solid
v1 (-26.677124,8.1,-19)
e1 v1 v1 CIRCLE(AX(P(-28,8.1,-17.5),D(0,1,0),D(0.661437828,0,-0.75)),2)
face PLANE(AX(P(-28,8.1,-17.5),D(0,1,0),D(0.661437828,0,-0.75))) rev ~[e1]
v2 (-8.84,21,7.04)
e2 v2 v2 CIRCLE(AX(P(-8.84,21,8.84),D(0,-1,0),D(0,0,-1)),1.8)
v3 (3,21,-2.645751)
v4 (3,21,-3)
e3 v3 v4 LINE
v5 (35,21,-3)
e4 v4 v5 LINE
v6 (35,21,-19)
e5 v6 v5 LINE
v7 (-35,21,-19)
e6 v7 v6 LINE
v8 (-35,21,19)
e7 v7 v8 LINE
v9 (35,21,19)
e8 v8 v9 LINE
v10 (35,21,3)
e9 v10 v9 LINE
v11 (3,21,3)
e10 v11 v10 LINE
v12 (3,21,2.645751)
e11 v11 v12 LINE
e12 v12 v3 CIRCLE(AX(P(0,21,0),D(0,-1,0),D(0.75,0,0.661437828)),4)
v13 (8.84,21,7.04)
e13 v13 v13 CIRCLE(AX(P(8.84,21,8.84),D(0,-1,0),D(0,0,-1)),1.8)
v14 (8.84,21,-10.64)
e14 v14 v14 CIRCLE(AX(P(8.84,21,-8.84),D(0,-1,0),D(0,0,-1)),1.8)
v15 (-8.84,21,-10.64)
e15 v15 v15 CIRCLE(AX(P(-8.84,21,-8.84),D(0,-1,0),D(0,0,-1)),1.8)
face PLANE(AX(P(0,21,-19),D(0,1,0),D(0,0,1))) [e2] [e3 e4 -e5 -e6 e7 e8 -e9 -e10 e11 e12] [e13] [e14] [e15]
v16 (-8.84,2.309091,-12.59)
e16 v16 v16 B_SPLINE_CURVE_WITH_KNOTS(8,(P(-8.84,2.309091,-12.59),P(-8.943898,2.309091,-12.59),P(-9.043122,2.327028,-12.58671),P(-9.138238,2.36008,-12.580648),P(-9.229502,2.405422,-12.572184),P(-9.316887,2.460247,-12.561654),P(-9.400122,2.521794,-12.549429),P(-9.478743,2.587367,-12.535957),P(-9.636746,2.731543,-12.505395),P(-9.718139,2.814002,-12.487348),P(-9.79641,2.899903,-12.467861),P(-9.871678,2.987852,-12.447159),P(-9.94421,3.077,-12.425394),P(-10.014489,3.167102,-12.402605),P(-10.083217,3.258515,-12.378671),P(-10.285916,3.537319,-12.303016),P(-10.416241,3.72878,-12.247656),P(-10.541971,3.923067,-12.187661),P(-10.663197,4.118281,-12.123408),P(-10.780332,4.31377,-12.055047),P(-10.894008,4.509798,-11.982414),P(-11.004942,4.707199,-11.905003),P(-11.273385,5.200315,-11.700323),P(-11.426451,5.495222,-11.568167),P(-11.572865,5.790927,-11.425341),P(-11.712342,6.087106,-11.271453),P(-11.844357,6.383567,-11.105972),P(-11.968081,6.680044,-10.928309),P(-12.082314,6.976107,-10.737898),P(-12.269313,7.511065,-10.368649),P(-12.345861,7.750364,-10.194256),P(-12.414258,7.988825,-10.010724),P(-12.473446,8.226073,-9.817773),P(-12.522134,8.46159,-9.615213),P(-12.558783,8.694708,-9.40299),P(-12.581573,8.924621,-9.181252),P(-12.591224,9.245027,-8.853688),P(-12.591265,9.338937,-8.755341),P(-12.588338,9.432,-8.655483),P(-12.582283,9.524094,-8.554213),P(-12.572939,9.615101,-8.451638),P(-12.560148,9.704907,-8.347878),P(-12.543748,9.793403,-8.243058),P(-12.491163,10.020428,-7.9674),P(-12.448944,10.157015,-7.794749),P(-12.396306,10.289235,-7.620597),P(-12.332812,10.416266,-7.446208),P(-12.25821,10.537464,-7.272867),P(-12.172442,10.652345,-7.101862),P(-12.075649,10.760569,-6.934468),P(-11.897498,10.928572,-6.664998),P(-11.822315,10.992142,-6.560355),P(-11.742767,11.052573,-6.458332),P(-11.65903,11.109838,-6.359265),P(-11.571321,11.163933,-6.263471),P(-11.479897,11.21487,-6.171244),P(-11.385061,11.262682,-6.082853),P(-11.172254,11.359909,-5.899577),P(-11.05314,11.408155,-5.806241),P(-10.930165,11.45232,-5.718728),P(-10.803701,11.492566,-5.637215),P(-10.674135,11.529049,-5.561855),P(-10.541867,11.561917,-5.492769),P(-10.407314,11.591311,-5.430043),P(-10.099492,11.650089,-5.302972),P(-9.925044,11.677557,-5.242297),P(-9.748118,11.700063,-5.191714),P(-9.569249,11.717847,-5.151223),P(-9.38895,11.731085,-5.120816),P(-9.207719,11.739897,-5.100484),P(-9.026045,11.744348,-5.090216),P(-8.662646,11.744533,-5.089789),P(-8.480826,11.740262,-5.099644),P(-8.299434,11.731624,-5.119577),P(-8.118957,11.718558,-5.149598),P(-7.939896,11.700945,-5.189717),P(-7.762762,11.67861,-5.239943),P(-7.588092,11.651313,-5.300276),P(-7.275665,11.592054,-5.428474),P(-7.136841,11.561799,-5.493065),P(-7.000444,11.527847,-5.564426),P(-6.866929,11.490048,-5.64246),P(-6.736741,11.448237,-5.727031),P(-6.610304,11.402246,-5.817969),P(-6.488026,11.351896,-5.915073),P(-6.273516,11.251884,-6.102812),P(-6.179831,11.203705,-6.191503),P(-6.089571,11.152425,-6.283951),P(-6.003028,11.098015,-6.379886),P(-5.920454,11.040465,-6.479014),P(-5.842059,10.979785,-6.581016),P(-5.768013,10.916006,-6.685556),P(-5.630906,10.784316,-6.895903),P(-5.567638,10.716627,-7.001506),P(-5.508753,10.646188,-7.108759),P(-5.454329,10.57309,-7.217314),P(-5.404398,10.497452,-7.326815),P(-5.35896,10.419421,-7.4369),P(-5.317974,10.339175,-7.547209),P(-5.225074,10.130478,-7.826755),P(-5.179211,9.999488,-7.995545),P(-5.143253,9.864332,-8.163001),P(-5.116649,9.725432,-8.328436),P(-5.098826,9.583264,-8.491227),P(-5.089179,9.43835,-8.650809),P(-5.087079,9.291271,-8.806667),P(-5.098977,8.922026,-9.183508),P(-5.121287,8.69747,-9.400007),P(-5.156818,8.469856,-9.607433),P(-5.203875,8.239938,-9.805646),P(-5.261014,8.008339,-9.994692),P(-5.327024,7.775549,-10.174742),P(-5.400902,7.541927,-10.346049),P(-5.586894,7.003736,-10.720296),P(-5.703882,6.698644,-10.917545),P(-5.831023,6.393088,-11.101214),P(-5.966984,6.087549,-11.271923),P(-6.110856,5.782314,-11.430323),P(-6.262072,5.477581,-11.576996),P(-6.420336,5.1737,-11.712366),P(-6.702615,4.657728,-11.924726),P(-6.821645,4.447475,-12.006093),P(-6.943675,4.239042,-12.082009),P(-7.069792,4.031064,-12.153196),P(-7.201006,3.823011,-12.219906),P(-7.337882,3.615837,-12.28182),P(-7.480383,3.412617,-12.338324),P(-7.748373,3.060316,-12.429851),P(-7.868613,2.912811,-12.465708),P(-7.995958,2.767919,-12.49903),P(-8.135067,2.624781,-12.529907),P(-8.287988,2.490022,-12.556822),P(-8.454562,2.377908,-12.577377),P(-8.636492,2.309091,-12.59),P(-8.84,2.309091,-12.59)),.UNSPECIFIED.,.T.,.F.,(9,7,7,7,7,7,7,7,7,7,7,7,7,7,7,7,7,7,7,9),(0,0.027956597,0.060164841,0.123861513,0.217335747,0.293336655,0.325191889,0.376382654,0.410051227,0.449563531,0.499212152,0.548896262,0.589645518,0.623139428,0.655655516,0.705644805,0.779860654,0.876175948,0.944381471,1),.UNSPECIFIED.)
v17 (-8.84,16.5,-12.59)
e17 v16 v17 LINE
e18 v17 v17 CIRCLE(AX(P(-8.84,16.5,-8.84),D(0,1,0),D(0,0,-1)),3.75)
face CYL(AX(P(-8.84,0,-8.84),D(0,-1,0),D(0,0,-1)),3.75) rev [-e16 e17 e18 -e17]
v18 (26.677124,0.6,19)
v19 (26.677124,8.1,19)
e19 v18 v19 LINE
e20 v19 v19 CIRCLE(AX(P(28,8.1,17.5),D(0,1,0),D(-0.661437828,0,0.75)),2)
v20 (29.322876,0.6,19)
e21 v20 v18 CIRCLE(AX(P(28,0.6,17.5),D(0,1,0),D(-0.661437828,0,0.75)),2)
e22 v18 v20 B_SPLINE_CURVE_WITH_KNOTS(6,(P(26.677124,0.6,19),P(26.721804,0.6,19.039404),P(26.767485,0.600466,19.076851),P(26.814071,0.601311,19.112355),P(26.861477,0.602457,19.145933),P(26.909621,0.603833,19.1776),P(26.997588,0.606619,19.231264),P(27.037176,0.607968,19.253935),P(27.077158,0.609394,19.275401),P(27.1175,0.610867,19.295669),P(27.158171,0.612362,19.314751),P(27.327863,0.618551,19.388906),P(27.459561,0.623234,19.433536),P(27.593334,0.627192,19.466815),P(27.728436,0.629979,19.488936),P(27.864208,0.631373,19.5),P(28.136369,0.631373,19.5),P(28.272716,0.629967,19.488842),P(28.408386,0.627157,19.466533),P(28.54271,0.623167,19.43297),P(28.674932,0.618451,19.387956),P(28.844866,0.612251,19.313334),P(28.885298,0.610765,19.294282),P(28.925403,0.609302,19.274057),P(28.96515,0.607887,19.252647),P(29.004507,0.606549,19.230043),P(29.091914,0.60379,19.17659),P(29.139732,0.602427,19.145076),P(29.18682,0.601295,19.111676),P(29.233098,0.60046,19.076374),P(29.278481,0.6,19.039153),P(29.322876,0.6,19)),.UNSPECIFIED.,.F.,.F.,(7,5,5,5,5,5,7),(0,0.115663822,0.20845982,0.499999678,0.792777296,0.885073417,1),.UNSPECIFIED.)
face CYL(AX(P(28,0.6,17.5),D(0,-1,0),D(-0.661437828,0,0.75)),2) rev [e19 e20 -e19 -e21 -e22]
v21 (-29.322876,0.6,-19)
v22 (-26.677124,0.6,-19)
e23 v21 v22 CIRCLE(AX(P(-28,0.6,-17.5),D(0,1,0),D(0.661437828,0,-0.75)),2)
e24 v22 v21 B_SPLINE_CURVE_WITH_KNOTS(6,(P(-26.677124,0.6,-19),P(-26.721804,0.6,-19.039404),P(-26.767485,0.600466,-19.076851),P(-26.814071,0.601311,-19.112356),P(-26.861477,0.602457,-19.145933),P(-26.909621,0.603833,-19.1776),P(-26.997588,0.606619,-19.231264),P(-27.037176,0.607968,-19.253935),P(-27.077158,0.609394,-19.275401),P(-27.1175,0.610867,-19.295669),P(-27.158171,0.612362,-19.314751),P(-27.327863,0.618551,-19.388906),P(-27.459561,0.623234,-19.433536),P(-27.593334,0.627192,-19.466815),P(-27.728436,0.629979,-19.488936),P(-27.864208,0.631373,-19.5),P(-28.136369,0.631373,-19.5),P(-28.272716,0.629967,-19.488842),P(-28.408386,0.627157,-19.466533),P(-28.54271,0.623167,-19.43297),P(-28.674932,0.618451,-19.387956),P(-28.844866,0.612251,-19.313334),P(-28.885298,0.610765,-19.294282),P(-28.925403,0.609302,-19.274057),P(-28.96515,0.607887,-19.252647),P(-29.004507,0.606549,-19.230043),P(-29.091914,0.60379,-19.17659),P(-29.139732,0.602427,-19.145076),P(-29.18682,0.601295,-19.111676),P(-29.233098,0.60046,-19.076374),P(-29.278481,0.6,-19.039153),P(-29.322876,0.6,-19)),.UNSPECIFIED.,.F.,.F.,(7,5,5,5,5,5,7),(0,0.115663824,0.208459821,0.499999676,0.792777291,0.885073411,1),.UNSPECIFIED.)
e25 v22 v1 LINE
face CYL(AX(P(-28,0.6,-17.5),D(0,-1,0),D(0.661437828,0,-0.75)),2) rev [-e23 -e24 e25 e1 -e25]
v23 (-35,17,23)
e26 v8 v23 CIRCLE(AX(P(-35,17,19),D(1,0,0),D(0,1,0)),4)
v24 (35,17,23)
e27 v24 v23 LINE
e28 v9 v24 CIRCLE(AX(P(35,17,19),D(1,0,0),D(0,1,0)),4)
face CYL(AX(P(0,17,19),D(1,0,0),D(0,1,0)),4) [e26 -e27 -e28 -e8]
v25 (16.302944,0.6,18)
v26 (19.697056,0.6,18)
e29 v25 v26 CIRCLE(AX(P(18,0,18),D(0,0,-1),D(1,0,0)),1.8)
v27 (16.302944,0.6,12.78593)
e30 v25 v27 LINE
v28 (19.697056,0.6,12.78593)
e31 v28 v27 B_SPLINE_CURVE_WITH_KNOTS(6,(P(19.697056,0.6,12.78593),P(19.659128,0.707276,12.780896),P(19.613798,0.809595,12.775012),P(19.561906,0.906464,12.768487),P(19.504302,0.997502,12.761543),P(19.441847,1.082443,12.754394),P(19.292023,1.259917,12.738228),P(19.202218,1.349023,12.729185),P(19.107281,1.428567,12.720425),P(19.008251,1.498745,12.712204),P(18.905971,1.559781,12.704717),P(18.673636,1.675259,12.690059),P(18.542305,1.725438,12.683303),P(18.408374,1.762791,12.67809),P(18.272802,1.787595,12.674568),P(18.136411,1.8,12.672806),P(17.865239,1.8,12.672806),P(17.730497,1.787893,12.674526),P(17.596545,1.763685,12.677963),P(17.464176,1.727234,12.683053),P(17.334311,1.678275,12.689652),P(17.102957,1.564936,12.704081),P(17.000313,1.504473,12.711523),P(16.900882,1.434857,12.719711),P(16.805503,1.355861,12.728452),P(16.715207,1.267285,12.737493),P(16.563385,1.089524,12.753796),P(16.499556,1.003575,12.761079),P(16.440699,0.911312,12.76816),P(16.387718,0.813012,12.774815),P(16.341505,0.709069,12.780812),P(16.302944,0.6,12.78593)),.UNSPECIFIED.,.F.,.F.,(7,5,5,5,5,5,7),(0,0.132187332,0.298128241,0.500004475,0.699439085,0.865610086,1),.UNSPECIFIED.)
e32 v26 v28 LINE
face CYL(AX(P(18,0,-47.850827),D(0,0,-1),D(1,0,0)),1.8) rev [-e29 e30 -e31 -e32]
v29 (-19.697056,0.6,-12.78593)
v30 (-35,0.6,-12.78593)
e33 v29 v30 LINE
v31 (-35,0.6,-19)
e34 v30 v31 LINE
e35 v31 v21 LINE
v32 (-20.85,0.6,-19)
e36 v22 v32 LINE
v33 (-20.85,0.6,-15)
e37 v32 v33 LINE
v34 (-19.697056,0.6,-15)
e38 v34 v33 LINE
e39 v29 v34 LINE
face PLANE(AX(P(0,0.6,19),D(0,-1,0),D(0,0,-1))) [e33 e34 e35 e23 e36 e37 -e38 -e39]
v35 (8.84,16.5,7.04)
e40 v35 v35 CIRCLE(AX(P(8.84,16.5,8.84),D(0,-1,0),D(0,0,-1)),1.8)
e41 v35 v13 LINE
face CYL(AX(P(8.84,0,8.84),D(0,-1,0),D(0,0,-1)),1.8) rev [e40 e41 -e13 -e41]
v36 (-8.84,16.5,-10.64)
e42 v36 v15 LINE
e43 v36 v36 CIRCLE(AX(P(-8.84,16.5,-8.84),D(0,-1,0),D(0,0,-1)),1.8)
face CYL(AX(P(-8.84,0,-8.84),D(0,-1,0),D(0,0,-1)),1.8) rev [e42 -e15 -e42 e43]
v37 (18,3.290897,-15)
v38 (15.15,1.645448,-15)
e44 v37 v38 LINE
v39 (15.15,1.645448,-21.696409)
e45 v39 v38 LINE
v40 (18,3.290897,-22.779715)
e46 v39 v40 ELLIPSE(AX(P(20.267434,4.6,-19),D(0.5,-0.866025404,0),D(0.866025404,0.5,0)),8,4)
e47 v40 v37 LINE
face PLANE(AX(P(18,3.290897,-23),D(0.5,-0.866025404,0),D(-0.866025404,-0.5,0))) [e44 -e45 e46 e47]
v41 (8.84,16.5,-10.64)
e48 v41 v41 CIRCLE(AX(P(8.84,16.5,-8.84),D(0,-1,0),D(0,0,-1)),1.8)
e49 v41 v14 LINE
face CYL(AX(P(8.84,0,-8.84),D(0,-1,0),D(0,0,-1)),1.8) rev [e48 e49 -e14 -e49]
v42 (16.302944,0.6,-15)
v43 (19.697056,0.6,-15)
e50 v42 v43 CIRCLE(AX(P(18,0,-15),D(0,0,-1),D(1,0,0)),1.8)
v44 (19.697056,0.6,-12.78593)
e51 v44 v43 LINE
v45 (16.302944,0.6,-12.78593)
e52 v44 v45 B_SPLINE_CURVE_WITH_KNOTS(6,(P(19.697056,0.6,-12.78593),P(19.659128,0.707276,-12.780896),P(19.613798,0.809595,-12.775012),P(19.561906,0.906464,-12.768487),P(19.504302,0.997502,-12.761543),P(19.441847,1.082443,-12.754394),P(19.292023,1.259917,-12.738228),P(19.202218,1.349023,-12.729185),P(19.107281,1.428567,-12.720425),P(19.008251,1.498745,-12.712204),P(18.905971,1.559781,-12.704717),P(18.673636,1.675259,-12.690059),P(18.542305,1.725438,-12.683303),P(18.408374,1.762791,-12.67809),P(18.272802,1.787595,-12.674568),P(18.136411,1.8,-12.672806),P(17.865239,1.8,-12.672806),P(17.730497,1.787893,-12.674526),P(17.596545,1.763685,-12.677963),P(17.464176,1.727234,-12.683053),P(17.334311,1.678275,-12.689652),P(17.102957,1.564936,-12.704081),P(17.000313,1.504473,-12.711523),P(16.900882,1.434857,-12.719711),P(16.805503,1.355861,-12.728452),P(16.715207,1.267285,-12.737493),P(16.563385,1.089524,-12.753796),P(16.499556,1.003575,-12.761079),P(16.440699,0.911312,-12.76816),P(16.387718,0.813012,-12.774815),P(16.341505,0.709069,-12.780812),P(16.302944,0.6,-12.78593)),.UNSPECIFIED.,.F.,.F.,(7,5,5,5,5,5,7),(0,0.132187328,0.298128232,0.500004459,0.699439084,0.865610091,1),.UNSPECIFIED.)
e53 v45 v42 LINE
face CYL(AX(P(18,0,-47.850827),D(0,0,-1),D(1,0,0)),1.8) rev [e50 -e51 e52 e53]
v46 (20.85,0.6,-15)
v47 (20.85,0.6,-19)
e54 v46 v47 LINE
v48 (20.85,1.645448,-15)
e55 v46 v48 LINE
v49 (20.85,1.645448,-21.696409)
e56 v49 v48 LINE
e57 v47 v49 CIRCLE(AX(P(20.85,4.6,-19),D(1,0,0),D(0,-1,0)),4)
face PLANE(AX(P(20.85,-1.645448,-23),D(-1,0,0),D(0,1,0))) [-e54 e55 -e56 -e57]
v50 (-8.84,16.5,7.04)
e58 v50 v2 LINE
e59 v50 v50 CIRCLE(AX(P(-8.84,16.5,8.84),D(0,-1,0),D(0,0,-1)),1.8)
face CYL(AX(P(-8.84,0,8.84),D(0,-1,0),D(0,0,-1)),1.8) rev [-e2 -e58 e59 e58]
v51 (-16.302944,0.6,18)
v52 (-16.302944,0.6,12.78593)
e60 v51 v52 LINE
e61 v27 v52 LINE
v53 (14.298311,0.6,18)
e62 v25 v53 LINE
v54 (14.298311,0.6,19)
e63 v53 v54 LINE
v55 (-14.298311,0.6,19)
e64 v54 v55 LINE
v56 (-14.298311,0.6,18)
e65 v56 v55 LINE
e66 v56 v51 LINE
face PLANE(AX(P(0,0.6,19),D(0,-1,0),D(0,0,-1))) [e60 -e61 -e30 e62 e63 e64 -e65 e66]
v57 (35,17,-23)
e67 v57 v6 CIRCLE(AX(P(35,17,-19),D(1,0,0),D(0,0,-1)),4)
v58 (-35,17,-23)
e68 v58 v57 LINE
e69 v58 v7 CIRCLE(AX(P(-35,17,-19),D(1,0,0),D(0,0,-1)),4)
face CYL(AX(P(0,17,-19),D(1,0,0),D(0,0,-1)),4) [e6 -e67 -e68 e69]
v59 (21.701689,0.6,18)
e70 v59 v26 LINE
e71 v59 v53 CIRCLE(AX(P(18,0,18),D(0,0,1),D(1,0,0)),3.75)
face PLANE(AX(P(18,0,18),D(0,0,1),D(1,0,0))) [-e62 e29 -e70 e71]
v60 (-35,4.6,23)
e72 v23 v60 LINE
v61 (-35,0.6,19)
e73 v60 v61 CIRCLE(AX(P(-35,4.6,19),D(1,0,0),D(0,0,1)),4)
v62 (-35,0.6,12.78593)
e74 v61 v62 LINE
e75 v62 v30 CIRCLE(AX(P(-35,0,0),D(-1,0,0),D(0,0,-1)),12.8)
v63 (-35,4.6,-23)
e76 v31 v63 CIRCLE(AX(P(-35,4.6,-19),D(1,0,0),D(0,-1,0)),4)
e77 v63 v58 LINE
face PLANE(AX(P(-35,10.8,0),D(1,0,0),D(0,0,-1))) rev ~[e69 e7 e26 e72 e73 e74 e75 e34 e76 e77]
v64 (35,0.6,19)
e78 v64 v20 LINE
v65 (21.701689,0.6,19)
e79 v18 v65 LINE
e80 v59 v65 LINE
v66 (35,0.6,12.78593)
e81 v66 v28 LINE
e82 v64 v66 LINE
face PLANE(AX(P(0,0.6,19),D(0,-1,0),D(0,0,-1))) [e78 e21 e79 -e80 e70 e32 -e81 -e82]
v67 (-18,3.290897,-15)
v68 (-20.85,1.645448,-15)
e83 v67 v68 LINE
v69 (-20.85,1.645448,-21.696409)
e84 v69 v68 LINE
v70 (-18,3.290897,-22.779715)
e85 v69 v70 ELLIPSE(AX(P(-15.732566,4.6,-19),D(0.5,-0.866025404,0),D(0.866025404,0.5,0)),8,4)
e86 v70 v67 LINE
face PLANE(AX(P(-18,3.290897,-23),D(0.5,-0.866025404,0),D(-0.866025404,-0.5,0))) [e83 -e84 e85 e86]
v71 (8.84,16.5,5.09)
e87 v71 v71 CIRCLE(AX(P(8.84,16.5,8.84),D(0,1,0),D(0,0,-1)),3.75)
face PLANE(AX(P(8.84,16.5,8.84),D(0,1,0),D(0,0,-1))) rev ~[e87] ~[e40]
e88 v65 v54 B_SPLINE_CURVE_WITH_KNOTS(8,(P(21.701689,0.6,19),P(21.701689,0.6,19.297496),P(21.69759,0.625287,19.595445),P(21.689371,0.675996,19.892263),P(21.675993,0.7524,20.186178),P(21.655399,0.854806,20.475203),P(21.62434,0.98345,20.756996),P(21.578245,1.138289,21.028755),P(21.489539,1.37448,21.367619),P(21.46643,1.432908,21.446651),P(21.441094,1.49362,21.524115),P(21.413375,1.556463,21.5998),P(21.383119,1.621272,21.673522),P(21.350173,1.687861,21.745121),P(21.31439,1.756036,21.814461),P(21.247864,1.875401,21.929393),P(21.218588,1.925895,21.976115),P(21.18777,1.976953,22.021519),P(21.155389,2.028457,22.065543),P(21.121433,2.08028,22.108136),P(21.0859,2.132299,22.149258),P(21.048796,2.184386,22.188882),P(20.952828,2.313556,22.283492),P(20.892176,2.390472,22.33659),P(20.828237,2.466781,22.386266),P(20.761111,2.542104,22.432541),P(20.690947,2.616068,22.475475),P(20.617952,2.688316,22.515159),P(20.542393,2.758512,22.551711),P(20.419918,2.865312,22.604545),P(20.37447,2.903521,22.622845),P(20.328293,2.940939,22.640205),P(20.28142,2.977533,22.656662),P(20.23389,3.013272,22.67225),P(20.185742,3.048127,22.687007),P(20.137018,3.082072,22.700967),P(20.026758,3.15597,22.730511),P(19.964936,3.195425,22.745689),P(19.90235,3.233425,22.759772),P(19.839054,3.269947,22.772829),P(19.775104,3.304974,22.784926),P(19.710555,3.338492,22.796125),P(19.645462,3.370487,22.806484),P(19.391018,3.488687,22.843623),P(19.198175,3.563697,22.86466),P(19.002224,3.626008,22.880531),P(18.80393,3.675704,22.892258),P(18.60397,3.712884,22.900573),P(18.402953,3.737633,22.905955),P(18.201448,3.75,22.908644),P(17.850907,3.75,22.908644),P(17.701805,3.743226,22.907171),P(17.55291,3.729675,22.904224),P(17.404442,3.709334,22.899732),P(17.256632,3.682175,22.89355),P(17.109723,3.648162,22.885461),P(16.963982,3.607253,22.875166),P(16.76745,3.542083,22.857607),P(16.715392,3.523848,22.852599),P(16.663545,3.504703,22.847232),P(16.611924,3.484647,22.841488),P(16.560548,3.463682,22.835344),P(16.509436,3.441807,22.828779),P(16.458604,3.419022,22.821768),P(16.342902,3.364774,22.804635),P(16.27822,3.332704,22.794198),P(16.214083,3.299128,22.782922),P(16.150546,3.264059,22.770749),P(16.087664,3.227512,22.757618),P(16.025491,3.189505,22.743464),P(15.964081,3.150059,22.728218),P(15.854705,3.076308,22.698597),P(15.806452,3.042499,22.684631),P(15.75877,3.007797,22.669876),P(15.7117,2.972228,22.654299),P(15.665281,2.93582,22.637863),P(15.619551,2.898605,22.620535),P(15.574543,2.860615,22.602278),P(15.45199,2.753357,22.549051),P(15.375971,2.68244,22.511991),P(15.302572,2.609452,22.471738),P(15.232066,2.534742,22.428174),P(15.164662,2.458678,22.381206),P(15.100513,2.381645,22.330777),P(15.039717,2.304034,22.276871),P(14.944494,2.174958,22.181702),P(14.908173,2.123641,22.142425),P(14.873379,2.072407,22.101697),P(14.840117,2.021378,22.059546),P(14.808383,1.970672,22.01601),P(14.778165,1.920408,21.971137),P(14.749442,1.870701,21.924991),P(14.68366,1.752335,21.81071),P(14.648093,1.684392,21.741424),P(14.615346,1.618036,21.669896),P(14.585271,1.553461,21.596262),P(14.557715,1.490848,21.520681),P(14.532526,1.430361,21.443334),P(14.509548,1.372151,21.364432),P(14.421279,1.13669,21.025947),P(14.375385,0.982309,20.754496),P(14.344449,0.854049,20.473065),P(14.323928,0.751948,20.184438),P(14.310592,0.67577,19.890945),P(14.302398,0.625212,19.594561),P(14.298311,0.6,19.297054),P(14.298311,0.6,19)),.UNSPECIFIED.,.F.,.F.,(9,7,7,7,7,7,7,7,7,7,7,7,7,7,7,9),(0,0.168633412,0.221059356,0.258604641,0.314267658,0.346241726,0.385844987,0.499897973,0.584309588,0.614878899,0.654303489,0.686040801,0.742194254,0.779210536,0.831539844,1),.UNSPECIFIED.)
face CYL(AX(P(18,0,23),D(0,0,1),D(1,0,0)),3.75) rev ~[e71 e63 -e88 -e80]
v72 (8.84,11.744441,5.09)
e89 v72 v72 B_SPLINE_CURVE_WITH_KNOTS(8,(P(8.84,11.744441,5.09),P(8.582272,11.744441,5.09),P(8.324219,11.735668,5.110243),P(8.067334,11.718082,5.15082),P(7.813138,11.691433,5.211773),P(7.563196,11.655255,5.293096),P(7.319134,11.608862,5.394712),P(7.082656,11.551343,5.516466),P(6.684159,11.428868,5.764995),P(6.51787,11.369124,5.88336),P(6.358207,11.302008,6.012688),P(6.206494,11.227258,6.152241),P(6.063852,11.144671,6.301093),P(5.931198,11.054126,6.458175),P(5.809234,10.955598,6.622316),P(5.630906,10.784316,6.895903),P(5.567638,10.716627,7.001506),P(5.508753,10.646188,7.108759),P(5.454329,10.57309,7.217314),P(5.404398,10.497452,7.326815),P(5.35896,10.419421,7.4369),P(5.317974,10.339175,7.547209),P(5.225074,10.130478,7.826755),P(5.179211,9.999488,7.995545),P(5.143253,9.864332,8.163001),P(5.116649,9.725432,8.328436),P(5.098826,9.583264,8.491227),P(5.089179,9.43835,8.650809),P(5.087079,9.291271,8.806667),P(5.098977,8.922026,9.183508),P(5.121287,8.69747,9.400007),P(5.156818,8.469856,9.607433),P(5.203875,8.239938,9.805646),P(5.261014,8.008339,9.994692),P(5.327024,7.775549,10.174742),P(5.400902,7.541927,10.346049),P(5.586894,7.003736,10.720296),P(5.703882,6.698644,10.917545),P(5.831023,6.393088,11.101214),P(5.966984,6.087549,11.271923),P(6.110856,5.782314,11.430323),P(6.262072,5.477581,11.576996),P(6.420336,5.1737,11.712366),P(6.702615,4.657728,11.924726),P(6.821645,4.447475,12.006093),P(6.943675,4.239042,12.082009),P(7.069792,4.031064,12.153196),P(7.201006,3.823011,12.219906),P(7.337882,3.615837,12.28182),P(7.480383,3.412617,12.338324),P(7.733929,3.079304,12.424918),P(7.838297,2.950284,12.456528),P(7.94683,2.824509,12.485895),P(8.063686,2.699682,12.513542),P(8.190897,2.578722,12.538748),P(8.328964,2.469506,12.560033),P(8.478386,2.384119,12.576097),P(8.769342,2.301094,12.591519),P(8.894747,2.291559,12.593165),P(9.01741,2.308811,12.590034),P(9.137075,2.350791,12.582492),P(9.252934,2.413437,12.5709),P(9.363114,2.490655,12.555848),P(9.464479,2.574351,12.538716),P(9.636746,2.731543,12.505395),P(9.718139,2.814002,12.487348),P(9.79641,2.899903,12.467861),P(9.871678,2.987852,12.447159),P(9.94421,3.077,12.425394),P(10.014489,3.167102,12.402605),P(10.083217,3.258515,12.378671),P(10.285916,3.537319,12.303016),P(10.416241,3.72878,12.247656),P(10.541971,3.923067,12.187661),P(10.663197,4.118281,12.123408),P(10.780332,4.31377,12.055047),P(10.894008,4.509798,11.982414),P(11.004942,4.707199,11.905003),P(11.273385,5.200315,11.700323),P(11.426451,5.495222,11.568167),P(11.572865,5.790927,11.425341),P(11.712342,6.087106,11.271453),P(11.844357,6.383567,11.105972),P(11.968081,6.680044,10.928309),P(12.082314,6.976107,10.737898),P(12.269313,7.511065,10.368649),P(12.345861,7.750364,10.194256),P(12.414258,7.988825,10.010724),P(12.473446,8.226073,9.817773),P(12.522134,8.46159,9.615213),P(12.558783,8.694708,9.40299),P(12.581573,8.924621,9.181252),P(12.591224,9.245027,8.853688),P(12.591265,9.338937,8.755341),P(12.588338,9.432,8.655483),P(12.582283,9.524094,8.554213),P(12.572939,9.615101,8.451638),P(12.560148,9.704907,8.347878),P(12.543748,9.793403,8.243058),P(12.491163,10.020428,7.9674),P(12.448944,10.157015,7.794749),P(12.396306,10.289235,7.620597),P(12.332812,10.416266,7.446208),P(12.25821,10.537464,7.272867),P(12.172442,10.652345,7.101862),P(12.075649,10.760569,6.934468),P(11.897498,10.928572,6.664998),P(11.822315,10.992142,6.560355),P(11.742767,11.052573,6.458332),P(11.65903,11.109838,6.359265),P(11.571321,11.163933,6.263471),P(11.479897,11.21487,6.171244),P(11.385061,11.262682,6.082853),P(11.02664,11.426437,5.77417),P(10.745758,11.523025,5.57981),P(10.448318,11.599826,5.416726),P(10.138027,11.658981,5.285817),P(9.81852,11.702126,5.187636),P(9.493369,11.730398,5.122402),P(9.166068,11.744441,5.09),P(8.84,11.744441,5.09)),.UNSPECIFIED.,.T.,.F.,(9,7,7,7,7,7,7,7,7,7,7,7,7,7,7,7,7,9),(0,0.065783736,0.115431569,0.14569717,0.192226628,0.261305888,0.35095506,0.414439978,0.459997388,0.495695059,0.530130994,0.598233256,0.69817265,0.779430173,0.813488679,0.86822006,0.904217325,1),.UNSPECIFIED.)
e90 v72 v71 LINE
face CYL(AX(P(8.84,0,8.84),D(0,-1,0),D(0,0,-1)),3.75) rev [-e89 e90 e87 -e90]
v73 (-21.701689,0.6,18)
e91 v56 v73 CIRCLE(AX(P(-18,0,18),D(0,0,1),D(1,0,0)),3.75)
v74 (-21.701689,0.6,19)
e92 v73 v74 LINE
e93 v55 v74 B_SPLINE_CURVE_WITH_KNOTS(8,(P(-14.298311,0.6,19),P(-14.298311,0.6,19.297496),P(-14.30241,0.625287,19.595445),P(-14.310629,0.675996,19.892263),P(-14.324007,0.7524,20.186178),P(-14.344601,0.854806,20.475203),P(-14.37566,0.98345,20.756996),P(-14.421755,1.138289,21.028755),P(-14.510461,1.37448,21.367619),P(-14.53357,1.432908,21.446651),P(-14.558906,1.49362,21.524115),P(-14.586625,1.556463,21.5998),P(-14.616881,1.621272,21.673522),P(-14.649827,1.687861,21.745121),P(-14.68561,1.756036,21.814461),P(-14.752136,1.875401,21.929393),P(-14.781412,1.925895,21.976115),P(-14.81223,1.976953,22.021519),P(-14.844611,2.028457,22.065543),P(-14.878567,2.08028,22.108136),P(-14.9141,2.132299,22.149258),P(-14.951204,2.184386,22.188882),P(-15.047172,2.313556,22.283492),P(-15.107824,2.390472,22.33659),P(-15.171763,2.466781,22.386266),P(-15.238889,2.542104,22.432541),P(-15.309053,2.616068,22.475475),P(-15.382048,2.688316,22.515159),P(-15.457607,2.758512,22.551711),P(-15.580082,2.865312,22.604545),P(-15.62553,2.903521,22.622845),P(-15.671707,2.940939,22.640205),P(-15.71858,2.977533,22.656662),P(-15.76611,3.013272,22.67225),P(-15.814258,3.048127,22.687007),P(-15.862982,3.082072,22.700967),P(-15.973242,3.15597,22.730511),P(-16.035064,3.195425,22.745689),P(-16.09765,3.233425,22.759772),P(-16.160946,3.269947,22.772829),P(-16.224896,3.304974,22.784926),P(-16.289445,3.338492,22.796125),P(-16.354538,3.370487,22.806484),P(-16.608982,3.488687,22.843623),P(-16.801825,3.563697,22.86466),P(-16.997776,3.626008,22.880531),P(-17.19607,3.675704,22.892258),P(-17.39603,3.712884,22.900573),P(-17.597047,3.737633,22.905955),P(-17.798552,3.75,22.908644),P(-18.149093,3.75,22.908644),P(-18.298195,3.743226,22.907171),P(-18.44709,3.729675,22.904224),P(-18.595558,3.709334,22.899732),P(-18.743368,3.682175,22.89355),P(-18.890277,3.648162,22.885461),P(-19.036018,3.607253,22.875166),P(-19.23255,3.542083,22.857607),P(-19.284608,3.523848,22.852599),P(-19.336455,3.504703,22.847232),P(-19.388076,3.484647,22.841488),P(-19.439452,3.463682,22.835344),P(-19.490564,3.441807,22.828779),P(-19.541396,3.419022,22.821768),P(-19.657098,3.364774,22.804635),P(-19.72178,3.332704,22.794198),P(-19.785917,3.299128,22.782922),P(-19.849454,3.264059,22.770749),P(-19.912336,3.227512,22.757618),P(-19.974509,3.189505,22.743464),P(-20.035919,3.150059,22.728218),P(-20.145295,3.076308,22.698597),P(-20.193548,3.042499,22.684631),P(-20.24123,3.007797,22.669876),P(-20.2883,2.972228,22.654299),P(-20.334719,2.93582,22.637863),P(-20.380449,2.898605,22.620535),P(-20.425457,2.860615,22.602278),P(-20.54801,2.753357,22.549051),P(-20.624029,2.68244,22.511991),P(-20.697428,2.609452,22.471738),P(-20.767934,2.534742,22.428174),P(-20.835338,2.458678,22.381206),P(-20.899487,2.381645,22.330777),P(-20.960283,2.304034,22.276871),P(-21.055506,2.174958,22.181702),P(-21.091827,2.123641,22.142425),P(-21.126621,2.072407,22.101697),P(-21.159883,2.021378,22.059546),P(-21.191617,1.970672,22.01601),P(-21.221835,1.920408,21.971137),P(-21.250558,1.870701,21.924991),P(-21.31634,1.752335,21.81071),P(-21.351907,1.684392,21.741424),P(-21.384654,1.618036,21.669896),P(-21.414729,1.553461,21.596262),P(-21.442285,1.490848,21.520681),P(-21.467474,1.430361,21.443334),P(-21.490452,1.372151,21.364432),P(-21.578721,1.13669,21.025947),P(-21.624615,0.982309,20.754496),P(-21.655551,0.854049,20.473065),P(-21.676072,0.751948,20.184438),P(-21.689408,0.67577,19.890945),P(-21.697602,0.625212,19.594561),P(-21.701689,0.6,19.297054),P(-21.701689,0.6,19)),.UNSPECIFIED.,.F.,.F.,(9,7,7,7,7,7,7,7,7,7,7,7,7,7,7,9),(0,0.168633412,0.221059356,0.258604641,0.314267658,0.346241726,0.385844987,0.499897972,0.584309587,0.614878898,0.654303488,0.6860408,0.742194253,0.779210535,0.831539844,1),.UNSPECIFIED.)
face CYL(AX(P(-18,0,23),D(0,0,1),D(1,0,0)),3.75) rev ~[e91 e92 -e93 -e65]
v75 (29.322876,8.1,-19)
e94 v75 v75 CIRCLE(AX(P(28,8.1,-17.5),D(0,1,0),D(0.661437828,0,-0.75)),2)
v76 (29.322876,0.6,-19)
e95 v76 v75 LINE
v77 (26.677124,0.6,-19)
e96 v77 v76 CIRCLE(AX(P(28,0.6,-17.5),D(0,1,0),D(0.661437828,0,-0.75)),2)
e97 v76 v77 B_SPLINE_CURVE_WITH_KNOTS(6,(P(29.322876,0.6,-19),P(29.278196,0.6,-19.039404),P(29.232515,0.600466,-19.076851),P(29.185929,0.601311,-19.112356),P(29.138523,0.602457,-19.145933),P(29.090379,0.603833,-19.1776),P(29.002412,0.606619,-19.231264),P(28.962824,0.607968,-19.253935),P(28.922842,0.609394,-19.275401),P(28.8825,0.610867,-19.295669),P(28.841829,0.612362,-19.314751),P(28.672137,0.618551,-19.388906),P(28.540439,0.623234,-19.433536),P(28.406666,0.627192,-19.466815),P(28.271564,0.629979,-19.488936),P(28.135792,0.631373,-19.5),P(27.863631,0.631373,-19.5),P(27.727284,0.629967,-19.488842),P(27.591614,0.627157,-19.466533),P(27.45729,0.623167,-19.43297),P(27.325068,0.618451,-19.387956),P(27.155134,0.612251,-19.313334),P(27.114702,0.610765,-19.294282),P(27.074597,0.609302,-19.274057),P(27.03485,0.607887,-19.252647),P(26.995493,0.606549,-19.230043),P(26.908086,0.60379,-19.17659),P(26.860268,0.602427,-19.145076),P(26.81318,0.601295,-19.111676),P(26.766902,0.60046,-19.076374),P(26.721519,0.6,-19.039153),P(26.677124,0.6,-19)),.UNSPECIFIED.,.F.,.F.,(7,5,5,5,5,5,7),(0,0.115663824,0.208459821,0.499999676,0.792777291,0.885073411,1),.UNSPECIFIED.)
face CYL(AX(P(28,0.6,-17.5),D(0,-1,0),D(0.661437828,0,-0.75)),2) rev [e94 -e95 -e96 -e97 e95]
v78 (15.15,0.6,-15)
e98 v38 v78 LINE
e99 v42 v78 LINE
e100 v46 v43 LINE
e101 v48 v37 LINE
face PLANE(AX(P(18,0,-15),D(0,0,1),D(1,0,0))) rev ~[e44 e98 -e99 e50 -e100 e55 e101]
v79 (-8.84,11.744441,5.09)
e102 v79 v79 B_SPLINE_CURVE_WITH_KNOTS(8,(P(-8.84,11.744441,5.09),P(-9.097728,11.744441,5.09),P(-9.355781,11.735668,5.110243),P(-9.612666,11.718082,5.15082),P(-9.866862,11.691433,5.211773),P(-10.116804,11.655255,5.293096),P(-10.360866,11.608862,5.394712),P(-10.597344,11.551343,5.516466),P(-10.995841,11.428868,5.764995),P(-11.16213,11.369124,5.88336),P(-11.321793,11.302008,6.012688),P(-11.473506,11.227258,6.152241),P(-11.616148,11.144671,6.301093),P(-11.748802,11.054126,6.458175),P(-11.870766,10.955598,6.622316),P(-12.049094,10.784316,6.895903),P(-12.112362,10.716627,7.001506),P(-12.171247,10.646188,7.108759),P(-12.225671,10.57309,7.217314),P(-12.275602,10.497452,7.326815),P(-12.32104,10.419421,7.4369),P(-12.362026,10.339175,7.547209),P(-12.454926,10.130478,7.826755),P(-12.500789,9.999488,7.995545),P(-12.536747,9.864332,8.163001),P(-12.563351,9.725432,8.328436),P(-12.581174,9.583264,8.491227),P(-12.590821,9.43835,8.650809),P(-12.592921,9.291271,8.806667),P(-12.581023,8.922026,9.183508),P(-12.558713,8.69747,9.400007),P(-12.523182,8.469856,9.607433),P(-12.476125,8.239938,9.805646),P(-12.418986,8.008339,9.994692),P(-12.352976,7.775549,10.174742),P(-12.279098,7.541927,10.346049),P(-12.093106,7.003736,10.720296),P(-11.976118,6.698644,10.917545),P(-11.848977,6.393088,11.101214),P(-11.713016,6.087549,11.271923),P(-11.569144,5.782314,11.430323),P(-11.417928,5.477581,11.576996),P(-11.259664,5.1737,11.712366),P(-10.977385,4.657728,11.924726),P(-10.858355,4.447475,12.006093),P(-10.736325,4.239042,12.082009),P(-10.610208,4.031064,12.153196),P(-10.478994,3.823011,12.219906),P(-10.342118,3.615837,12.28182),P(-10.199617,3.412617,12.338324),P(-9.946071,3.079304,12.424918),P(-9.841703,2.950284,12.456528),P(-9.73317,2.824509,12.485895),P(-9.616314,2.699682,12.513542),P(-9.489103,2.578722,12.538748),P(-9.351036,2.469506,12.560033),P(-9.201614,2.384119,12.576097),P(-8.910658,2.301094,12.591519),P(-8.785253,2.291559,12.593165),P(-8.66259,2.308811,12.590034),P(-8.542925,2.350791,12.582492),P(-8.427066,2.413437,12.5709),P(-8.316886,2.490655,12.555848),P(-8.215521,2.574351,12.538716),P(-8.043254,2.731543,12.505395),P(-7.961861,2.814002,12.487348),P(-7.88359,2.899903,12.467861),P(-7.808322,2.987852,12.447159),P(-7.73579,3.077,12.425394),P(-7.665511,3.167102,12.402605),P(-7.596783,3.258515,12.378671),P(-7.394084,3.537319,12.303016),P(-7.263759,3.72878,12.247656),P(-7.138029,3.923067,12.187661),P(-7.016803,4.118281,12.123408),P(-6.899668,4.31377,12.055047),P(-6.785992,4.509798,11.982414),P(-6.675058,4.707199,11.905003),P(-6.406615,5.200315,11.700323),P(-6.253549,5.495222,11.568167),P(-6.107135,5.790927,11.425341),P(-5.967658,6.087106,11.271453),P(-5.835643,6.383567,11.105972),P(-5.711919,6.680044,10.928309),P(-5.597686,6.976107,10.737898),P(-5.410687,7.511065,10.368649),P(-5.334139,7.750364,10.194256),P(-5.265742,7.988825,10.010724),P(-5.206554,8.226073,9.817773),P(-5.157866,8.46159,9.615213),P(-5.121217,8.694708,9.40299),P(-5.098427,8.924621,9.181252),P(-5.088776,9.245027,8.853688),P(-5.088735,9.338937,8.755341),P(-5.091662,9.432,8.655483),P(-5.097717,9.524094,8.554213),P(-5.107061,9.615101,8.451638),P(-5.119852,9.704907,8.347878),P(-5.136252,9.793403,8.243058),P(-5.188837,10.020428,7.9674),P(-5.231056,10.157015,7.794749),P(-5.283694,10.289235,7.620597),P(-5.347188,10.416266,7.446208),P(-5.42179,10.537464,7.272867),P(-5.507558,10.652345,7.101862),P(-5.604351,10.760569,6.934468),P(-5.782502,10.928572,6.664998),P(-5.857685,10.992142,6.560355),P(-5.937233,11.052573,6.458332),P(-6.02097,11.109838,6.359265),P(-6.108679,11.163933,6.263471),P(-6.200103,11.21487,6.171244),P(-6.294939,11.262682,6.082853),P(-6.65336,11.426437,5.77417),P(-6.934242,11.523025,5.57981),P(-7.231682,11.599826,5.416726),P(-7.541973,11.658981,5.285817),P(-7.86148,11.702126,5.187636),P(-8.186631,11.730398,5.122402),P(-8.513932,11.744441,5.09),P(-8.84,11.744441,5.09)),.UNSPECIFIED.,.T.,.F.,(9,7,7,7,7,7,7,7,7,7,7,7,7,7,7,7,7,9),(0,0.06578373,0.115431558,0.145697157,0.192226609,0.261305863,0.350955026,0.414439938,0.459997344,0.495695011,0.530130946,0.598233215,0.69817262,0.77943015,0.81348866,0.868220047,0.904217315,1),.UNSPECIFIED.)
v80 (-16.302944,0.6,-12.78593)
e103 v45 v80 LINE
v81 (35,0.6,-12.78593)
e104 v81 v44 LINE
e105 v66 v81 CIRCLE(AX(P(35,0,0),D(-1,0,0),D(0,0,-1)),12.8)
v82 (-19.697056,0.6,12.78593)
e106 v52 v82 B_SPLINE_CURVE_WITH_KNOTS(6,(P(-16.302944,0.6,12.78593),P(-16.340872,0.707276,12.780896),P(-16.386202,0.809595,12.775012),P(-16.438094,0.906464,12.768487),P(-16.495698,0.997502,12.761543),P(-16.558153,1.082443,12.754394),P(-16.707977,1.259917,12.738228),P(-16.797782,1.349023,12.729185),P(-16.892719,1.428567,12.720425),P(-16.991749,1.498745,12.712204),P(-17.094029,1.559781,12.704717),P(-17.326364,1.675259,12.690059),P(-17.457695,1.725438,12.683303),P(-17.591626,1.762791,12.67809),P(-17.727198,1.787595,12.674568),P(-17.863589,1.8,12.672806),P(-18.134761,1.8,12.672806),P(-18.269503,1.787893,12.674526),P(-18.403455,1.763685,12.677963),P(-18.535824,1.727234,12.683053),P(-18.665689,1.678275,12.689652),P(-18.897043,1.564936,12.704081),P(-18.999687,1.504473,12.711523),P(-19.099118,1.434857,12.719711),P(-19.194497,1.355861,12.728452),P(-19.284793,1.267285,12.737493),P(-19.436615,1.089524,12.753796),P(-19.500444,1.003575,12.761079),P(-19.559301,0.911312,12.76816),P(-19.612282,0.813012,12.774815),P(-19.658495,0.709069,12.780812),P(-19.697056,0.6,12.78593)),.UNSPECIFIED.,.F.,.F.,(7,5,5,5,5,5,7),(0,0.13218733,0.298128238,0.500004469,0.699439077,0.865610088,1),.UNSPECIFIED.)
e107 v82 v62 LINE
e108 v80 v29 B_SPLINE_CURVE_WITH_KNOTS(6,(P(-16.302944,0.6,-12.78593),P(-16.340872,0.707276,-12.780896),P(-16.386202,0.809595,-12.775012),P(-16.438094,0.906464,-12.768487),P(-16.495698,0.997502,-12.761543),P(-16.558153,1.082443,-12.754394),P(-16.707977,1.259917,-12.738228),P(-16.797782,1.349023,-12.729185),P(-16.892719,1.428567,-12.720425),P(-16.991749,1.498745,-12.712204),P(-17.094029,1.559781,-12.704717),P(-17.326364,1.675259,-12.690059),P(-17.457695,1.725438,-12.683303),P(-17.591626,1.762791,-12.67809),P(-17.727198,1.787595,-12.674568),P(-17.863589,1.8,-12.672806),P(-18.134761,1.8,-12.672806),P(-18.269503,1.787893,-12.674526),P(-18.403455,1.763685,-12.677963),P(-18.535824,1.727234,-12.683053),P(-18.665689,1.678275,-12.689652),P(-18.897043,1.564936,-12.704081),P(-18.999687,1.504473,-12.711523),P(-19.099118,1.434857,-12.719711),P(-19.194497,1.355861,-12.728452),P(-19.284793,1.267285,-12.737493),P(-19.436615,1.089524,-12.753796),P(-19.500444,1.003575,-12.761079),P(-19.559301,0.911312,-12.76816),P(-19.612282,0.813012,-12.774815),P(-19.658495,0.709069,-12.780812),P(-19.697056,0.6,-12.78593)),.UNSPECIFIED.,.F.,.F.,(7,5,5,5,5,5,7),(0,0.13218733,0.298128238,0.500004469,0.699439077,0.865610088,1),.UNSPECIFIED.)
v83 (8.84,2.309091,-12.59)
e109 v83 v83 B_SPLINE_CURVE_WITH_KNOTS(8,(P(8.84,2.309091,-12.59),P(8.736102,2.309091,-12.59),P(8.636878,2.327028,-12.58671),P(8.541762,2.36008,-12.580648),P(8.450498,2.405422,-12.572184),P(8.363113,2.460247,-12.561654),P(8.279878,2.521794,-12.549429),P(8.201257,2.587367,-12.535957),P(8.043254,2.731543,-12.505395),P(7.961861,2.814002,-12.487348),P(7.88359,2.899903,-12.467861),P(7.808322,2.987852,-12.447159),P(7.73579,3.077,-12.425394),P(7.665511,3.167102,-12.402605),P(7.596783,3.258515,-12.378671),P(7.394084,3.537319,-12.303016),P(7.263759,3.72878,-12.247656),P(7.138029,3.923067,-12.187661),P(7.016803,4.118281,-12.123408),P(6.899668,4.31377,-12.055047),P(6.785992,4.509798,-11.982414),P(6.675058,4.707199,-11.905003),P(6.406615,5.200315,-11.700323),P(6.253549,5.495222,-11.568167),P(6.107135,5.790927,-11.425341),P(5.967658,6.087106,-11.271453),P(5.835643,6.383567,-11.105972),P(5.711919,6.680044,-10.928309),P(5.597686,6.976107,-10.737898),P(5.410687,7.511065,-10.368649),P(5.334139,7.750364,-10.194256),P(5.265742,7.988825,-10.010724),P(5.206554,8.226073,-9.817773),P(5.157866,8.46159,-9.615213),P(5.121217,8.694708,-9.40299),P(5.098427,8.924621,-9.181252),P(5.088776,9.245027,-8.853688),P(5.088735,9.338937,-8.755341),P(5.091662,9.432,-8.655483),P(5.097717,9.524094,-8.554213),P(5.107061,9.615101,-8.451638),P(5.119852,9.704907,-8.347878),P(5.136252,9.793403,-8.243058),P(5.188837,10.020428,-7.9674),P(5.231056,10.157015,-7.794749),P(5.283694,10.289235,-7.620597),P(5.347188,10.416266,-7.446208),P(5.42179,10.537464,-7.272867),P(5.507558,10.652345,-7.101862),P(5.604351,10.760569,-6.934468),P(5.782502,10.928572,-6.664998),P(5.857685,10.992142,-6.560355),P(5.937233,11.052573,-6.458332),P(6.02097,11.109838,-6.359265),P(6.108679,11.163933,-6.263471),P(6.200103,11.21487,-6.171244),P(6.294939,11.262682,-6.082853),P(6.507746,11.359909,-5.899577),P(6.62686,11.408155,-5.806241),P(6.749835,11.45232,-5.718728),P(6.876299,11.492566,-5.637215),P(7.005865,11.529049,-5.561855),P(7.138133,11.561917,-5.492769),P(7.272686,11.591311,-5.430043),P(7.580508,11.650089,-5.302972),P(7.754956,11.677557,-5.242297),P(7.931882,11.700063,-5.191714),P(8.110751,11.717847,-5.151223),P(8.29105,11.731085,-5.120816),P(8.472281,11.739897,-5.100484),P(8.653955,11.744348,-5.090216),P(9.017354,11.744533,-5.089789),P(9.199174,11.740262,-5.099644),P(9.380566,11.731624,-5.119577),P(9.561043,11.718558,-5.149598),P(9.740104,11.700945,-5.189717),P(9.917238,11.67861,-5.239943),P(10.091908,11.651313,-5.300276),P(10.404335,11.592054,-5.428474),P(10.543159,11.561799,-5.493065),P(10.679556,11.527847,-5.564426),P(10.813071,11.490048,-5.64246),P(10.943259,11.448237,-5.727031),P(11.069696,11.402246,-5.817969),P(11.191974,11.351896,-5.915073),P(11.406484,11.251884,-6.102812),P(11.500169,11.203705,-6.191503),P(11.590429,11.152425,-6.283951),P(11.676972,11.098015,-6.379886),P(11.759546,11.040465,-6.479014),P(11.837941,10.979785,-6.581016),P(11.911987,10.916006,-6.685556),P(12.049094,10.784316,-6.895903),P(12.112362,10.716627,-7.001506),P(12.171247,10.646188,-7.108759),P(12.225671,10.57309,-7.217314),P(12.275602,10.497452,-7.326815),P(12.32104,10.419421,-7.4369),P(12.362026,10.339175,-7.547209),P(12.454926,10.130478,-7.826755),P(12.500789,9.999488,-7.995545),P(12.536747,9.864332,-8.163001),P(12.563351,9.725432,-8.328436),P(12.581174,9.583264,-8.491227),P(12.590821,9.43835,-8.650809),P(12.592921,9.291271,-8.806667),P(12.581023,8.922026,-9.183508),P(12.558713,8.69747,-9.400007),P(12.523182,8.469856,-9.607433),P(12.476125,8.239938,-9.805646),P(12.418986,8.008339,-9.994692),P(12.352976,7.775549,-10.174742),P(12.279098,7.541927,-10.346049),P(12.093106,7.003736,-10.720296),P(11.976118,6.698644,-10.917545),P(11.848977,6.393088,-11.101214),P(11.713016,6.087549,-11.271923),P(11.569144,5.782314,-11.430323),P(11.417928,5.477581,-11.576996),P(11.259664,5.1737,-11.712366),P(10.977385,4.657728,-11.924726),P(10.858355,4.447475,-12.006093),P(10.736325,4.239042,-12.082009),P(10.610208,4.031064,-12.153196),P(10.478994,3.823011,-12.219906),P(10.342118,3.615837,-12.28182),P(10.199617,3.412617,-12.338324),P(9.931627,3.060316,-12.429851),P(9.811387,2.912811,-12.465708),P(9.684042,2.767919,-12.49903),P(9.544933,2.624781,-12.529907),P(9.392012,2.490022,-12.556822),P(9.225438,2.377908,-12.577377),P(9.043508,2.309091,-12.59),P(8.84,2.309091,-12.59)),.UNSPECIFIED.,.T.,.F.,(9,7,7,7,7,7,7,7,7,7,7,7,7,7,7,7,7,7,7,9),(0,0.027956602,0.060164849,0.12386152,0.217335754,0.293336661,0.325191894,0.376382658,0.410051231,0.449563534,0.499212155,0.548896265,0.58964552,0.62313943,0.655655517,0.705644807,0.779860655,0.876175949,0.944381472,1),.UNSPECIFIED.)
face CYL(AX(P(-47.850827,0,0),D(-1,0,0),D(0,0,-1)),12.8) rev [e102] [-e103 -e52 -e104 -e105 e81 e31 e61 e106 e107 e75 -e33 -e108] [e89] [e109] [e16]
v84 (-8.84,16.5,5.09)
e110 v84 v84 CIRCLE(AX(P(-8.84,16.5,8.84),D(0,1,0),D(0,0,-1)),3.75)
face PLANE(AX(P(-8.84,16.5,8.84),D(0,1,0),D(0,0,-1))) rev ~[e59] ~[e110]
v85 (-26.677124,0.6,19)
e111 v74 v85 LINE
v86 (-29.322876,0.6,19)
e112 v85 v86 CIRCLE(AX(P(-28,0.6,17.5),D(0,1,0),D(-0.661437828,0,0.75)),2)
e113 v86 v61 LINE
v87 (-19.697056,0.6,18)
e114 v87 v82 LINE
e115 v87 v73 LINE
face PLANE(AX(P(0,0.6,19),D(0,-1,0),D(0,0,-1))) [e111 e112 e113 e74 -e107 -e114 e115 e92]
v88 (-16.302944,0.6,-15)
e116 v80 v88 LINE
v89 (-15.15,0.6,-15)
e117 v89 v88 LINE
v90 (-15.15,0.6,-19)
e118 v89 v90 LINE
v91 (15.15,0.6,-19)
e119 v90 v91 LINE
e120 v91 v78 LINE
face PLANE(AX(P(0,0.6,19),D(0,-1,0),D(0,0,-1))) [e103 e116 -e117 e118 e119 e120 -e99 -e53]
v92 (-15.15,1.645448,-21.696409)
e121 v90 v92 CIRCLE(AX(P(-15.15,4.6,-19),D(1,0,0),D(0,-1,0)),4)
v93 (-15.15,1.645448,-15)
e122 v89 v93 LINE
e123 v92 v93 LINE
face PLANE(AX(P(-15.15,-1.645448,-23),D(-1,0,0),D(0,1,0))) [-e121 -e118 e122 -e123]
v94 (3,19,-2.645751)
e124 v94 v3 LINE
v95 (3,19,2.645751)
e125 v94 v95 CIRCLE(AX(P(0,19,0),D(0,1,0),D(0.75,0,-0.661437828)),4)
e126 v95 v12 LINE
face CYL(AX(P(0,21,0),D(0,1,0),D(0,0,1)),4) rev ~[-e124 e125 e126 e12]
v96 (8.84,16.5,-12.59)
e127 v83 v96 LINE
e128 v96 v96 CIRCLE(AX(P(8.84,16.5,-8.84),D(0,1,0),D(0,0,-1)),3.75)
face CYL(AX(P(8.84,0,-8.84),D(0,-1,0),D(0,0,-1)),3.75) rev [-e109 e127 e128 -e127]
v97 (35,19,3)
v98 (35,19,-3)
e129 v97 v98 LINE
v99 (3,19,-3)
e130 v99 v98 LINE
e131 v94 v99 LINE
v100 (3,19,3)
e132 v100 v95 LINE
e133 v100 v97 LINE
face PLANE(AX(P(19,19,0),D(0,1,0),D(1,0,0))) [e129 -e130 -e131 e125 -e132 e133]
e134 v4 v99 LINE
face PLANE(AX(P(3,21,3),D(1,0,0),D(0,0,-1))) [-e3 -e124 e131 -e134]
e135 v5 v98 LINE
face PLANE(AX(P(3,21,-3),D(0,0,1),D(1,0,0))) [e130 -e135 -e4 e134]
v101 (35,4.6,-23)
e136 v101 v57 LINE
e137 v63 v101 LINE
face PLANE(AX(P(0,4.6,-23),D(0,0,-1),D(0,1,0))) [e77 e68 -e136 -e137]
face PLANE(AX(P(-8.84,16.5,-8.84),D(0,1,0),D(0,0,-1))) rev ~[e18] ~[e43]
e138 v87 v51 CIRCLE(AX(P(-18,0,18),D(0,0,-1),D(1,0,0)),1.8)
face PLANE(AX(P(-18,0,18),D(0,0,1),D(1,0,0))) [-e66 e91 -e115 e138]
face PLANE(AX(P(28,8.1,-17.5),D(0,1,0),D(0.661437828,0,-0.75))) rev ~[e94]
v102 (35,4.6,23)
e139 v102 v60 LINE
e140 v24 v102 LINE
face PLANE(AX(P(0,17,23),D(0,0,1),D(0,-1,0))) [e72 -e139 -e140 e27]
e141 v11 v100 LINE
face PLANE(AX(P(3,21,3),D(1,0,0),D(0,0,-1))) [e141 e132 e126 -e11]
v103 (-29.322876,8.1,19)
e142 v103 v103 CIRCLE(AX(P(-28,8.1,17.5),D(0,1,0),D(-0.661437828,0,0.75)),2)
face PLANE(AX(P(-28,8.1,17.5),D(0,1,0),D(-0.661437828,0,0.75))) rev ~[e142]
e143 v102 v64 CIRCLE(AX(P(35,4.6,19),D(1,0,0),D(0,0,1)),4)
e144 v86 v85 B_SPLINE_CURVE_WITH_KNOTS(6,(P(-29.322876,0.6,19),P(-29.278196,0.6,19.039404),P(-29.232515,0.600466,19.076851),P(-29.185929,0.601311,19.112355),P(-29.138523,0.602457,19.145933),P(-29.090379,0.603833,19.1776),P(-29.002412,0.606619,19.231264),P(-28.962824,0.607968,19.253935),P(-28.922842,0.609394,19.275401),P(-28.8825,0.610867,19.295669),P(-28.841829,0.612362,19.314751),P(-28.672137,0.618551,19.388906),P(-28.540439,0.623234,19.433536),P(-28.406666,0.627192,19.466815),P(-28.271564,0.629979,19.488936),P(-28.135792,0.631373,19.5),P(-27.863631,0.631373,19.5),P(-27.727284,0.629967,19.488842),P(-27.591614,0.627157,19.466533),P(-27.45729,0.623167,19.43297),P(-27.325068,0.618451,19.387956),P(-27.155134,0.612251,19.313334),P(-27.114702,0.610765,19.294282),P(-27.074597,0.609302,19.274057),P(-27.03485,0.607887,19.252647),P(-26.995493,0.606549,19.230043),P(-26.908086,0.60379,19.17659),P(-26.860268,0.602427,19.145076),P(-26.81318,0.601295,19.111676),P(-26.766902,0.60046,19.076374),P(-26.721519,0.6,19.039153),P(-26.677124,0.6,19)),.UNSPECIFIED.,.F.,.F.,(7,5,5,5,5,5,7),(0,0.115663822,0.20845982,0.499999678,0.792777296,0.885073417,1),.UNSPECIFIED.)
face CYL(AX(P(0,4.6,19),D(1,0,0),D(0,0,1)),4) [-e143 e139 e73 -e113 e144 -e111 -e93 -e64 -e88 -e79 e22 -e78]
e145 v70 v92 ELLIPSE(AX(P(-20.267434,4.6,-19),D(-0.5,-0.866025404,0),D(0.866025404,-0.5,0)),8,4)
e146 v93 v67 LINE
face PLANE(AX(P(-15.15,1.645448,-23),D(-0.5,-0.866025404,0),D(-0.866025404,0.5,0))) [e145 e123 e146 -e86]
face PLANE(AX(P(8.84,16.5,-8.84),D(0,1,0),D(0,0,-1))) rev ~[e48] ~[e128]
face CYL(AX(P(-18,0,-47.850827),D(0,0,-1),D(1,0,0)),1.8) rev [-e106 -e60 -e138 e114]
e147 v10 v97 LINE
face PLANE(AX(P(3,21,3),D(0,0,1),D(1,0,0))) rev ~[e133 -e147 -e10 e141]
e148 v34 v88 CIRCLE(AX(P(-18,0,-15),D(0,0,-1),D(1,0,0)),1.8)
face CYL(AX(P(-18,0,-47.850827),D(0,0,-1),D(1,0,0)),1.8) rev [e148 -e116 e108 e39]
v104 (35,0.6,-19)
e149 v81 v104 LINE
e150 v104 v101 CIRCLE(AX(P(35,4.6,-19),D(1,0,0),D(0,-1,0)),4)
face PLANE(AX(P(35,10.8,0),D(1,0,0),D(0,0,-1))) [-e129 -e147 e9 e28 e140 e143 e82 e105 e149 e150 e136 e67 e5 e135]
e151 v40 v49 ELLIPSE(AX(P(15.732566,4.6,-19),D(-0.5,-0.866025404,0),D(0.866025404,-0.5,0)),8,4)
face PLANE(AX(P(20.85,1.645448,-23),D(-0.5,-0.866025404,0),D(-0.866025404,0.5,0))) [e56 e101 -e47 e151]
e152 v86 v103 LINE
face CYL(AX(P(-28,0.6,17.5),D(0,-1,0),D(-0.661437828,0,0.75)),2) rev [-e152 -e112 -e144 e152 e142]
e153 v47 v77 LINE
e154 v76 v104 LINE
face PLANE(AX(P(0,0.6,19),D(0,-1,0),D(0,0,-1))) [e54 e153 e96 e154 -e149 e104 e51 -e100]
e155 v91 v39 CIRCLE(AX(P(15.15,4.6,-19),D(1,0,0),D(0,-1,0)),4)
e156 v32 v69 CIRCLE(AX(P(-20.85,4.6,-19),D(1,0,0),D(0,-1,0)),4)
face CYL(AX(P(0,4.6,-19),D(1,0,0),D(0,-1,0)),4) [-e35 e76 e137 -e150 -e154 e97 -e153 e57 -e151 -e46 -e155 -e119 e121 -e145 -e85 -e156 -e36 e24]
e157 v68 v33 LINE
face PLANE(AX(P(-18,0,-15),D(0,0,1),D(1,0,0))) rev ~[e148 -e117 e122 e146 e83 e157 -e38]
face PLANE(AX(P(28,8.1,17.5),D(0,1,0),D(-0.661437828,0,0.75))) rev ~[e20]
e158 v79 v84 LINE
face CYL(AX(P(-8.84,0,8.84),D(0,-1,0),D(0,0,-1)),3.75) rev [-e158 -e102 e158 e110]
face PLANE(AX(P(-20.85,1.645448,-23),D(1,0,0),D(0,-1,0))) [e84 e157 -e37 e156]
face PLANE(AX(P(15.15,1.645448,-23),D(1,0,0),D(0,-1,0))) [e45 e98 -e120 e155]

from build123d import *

# Parameters (mm, degrees)
BOSS_EXTRUDE1_DEPTH     = 35
CUT_EXTRUDE1_DEPTH      = 47.8508271
CUT_EXTRUDE1_DEPTH_BACK = 47.8508271
SKETCH2_R               = 12.8
SKETCH3_R               = 2
CUT_EXTRUDE2_DEPTH      = 7.5
SKETCH4_R               = 3.75
CUT_EXTRUDE3_DEPTH      = 16.5
SKETCH5_R               = 1.8
CUT_EXTRUDE4_DEPTH      = 22
SKETCH6_R               = 4
CUT_EXTRUDE5_DEPTH      = 2
SKETCH7_W               = 32
SKETCH7_H               = 6
CUT_EXTRUDE6_DEPTH      = 2
CUT_EXTRUDE7_DEPTH      = 47.850827224
CUT_EXTRUDE7_DEPTH_BACK = 47.850827224
SKETCH8_R               = 1.8
SKETCH9_R               = 3.75
CUT_EXTRUDE8_DEPTH      = 5
CUT_EXTRUDE9_DEPTH      = 8


with BuildPart() as part:
    # Sketch1 → Boss-Extrude1 (new, symmetric)
    with BuildSketch(Plane(origin=(0, 0, 0), x_dir=(0, 0, -1), z_dir=(1, 0, 0))):
        with BuildLine():
            Line((-19, 0.6), (19, 0.6))
            ThreePointArc((19, 0.6), (21.828427125, 1.771572875), (23, 4.6))
            Line((23, 4.6), (23, 17))
            ThreePointArc((23, 17), (21.828427125, 19.828427125), (19, 21))
            Line((19, 21), (-19, 21))
            ThreePointArc((-19, 21), (-21.828427125, 19.828427125), (-23, 17))
            Line((-23, 17), (-23, 4.6))
            ThreePointArc((-23, 4.6), (-21.828427125, 1.771572875), (-19, 0.6))
        make_face()
    extrude(amount=BOSS_EXTRUDE1_DEPTH, both=True)

    # Sketch2 → Cut-Extrude1 (cut, two sides: drawn at the far end of the back side and taken through both)
    with BuildSketch(Plane(origin=(0, 0, 0), x_dir=(0, 0, -1), z_dir=(1, 0, 0)).offset(-CUT_EXTRUDE1_DEPTH_BACK)):
        Circle(SKETCH2_R)
    extrude(amount=CUT_EXTRUDE1_DEPTH + CUT_EXTRUDE1_DEPTH_BACK, mode=Mode.SUBTRACT)

    # Sketch3 → Cut-Extrude2 (cut)
    with BuildSketch(Plane(origin=(0, 0.6, 0), x_dir=(1, 0, 0), z_dir=(0, 1, 0))):
        with Locations(Location((28, -17.5, 0), (0, 0, 228.590377891))):
            Circle(SKETCH3_R)
        with Locations(Location((28, 17.5, 0), (0, 0, 48.590377891))):
            Circle(SKETCH3_R)
        with Locations(Location((-28, -17.5, 0), (0, 0, 228.590377891))):
            Circle(SKETCH3_R)
        with Locations(Location((-28, 17.5, 0), (0, 0, 48.590377891))):
            Circle(SKETCH3_R)
    extrude(amount=CUT_EXTRUDE2_DEPTH, mode=Mode.SUBTRACT)

    # Sketch4 → Cut-Extrude3 (cut)
    with BuildSketch(Plane(origin=(0, 0, 0), x_dir=(1, 0, 0), z_dir=(0, 1, 0))):
        with Locations(Location((8.84, -8.84, 0), (0, 0, 90))):
            Circle(SKETCH4_R)
        with Locations(Location((8.84, 8.84, 0), (0, 0, 90))):
            Circle(SKETCH4_R)
        with Locations(Location((-8.84, -8.84, 0), (0, 0, 90))):
            Circle(SKETCH4_R)
        with Locations(Location((-8.84, 8.84, 0), (0, 0, 90))):
            Circle(SKETCH4_R)
    extrude(amount=CUT_EXTRUDE3_DEPTH, mode=Mode.SUBTRACT)

    # Sketch5 → Cut-Extrude4 (cut)
    with BuildSketch(Plane(origin=(0, 0, 0), x_dir=(1, 0, 0), z_dir=(0, 1, 0))):
        with Locations(Location((8.84, -8.84, 0), (0, 0, 90))):
            Circle(SKETCH5_R)
        with Locations(Location((8.84, 8.84, 0), (0, 0, 90))):
            Circle(SKETCH5_R)
        with Locations(Location((-8.84, -8.84, 0), (0, 0, 90))):
            Circle(SKETCH5_R)
        with Locations(Location((-8.84, 8.84, 0), (0, 0, 90))):
            Circle(SKETCH5_R)
    extrude(amount=CUT_EXTRUDE4_DEPTH, mode=Mode.SUBTRACT)

    # Sketch6 → Cut-Extrude5 (cut)
    with BuildSketch(Plane(origin=(0, 21, 0), x_dir=(1, 0, 0), z_dir=(0, 1, 0))):
        with Locations(Location((0, 0, 0), (0, 0, 270))):
            Circle(SKETCH6_R)
    extrude(amount=-CUT_EXTRUDE5_DEPTH, mode=Mode.SUBTRACT)

    # Sketch7 → Cut-Extrude6 (cut)
    with BuildSketch(Plane(origin=(0, 21, 0), x_dir=(1, 0, 0), z_dir=(0, 1, 0))):
        with Locations((19, 0)):
            Rectangle(SKETCH7_W, SKETCH7_H)
    extrude(amount=-CUT_EXTRUDE6_DEPTH, mode=Mode.SUBTRACT)

    # Sketch8 → Cut-Extrude7 (cut, two sides: drawn at the far end of the back side and taken through both)
    with BuildSketch(Plane.XY.offset(-CUT_EXTRUDE7_DEPTH_BACK)):
        with Locations((18, 0)):
            Circle(SKETCH8_R)
        with Locations((-18, 0)):
            Circle(SKETCH8_R)
    extrude(amount=CUT_EXTRUDE7_DEPTH + CUT_EXTRUDE7_DEPTH_BACK, mode=Mode.SUBTRACT)

    # Sketch9 → Cut-Extrude8 (cut)
    with BuildSketch(Plane.XY.offset(23)):
        with Locations((18, 0)):
            Circle(SKETCH9_R)
        with Locations((-18, 0)):
            Circle(SKETCH9_R)
    extrude(amount=-CUT_EXTRUDE8_DEPTH, mode=Mode.SUBTRACT)

    # Sketch10 → Cut-Extrude9 (cut)
    with BuildSketch(Plane.XY.offset(-23)):
        Polygon((20.85, 1.645448267), (18, 3.290896534), (15.15, 1.645448267), (15.15, -1.645448267), (18, -3.290896534), (20.85, -1.645448267), align=None)
        Polygon((-15.15, 1.645448267), (-18, 3.290896534), (-20.85, 1.645448267), (-20.85, -1.645448267), (-18, -3.290896534), (-15.15, -1.645448267), align=None)
    extrude(amount=CUT_EXTRUDE9_DEPTH, mode=Mode.SUBTRACT)


solid = part.part
